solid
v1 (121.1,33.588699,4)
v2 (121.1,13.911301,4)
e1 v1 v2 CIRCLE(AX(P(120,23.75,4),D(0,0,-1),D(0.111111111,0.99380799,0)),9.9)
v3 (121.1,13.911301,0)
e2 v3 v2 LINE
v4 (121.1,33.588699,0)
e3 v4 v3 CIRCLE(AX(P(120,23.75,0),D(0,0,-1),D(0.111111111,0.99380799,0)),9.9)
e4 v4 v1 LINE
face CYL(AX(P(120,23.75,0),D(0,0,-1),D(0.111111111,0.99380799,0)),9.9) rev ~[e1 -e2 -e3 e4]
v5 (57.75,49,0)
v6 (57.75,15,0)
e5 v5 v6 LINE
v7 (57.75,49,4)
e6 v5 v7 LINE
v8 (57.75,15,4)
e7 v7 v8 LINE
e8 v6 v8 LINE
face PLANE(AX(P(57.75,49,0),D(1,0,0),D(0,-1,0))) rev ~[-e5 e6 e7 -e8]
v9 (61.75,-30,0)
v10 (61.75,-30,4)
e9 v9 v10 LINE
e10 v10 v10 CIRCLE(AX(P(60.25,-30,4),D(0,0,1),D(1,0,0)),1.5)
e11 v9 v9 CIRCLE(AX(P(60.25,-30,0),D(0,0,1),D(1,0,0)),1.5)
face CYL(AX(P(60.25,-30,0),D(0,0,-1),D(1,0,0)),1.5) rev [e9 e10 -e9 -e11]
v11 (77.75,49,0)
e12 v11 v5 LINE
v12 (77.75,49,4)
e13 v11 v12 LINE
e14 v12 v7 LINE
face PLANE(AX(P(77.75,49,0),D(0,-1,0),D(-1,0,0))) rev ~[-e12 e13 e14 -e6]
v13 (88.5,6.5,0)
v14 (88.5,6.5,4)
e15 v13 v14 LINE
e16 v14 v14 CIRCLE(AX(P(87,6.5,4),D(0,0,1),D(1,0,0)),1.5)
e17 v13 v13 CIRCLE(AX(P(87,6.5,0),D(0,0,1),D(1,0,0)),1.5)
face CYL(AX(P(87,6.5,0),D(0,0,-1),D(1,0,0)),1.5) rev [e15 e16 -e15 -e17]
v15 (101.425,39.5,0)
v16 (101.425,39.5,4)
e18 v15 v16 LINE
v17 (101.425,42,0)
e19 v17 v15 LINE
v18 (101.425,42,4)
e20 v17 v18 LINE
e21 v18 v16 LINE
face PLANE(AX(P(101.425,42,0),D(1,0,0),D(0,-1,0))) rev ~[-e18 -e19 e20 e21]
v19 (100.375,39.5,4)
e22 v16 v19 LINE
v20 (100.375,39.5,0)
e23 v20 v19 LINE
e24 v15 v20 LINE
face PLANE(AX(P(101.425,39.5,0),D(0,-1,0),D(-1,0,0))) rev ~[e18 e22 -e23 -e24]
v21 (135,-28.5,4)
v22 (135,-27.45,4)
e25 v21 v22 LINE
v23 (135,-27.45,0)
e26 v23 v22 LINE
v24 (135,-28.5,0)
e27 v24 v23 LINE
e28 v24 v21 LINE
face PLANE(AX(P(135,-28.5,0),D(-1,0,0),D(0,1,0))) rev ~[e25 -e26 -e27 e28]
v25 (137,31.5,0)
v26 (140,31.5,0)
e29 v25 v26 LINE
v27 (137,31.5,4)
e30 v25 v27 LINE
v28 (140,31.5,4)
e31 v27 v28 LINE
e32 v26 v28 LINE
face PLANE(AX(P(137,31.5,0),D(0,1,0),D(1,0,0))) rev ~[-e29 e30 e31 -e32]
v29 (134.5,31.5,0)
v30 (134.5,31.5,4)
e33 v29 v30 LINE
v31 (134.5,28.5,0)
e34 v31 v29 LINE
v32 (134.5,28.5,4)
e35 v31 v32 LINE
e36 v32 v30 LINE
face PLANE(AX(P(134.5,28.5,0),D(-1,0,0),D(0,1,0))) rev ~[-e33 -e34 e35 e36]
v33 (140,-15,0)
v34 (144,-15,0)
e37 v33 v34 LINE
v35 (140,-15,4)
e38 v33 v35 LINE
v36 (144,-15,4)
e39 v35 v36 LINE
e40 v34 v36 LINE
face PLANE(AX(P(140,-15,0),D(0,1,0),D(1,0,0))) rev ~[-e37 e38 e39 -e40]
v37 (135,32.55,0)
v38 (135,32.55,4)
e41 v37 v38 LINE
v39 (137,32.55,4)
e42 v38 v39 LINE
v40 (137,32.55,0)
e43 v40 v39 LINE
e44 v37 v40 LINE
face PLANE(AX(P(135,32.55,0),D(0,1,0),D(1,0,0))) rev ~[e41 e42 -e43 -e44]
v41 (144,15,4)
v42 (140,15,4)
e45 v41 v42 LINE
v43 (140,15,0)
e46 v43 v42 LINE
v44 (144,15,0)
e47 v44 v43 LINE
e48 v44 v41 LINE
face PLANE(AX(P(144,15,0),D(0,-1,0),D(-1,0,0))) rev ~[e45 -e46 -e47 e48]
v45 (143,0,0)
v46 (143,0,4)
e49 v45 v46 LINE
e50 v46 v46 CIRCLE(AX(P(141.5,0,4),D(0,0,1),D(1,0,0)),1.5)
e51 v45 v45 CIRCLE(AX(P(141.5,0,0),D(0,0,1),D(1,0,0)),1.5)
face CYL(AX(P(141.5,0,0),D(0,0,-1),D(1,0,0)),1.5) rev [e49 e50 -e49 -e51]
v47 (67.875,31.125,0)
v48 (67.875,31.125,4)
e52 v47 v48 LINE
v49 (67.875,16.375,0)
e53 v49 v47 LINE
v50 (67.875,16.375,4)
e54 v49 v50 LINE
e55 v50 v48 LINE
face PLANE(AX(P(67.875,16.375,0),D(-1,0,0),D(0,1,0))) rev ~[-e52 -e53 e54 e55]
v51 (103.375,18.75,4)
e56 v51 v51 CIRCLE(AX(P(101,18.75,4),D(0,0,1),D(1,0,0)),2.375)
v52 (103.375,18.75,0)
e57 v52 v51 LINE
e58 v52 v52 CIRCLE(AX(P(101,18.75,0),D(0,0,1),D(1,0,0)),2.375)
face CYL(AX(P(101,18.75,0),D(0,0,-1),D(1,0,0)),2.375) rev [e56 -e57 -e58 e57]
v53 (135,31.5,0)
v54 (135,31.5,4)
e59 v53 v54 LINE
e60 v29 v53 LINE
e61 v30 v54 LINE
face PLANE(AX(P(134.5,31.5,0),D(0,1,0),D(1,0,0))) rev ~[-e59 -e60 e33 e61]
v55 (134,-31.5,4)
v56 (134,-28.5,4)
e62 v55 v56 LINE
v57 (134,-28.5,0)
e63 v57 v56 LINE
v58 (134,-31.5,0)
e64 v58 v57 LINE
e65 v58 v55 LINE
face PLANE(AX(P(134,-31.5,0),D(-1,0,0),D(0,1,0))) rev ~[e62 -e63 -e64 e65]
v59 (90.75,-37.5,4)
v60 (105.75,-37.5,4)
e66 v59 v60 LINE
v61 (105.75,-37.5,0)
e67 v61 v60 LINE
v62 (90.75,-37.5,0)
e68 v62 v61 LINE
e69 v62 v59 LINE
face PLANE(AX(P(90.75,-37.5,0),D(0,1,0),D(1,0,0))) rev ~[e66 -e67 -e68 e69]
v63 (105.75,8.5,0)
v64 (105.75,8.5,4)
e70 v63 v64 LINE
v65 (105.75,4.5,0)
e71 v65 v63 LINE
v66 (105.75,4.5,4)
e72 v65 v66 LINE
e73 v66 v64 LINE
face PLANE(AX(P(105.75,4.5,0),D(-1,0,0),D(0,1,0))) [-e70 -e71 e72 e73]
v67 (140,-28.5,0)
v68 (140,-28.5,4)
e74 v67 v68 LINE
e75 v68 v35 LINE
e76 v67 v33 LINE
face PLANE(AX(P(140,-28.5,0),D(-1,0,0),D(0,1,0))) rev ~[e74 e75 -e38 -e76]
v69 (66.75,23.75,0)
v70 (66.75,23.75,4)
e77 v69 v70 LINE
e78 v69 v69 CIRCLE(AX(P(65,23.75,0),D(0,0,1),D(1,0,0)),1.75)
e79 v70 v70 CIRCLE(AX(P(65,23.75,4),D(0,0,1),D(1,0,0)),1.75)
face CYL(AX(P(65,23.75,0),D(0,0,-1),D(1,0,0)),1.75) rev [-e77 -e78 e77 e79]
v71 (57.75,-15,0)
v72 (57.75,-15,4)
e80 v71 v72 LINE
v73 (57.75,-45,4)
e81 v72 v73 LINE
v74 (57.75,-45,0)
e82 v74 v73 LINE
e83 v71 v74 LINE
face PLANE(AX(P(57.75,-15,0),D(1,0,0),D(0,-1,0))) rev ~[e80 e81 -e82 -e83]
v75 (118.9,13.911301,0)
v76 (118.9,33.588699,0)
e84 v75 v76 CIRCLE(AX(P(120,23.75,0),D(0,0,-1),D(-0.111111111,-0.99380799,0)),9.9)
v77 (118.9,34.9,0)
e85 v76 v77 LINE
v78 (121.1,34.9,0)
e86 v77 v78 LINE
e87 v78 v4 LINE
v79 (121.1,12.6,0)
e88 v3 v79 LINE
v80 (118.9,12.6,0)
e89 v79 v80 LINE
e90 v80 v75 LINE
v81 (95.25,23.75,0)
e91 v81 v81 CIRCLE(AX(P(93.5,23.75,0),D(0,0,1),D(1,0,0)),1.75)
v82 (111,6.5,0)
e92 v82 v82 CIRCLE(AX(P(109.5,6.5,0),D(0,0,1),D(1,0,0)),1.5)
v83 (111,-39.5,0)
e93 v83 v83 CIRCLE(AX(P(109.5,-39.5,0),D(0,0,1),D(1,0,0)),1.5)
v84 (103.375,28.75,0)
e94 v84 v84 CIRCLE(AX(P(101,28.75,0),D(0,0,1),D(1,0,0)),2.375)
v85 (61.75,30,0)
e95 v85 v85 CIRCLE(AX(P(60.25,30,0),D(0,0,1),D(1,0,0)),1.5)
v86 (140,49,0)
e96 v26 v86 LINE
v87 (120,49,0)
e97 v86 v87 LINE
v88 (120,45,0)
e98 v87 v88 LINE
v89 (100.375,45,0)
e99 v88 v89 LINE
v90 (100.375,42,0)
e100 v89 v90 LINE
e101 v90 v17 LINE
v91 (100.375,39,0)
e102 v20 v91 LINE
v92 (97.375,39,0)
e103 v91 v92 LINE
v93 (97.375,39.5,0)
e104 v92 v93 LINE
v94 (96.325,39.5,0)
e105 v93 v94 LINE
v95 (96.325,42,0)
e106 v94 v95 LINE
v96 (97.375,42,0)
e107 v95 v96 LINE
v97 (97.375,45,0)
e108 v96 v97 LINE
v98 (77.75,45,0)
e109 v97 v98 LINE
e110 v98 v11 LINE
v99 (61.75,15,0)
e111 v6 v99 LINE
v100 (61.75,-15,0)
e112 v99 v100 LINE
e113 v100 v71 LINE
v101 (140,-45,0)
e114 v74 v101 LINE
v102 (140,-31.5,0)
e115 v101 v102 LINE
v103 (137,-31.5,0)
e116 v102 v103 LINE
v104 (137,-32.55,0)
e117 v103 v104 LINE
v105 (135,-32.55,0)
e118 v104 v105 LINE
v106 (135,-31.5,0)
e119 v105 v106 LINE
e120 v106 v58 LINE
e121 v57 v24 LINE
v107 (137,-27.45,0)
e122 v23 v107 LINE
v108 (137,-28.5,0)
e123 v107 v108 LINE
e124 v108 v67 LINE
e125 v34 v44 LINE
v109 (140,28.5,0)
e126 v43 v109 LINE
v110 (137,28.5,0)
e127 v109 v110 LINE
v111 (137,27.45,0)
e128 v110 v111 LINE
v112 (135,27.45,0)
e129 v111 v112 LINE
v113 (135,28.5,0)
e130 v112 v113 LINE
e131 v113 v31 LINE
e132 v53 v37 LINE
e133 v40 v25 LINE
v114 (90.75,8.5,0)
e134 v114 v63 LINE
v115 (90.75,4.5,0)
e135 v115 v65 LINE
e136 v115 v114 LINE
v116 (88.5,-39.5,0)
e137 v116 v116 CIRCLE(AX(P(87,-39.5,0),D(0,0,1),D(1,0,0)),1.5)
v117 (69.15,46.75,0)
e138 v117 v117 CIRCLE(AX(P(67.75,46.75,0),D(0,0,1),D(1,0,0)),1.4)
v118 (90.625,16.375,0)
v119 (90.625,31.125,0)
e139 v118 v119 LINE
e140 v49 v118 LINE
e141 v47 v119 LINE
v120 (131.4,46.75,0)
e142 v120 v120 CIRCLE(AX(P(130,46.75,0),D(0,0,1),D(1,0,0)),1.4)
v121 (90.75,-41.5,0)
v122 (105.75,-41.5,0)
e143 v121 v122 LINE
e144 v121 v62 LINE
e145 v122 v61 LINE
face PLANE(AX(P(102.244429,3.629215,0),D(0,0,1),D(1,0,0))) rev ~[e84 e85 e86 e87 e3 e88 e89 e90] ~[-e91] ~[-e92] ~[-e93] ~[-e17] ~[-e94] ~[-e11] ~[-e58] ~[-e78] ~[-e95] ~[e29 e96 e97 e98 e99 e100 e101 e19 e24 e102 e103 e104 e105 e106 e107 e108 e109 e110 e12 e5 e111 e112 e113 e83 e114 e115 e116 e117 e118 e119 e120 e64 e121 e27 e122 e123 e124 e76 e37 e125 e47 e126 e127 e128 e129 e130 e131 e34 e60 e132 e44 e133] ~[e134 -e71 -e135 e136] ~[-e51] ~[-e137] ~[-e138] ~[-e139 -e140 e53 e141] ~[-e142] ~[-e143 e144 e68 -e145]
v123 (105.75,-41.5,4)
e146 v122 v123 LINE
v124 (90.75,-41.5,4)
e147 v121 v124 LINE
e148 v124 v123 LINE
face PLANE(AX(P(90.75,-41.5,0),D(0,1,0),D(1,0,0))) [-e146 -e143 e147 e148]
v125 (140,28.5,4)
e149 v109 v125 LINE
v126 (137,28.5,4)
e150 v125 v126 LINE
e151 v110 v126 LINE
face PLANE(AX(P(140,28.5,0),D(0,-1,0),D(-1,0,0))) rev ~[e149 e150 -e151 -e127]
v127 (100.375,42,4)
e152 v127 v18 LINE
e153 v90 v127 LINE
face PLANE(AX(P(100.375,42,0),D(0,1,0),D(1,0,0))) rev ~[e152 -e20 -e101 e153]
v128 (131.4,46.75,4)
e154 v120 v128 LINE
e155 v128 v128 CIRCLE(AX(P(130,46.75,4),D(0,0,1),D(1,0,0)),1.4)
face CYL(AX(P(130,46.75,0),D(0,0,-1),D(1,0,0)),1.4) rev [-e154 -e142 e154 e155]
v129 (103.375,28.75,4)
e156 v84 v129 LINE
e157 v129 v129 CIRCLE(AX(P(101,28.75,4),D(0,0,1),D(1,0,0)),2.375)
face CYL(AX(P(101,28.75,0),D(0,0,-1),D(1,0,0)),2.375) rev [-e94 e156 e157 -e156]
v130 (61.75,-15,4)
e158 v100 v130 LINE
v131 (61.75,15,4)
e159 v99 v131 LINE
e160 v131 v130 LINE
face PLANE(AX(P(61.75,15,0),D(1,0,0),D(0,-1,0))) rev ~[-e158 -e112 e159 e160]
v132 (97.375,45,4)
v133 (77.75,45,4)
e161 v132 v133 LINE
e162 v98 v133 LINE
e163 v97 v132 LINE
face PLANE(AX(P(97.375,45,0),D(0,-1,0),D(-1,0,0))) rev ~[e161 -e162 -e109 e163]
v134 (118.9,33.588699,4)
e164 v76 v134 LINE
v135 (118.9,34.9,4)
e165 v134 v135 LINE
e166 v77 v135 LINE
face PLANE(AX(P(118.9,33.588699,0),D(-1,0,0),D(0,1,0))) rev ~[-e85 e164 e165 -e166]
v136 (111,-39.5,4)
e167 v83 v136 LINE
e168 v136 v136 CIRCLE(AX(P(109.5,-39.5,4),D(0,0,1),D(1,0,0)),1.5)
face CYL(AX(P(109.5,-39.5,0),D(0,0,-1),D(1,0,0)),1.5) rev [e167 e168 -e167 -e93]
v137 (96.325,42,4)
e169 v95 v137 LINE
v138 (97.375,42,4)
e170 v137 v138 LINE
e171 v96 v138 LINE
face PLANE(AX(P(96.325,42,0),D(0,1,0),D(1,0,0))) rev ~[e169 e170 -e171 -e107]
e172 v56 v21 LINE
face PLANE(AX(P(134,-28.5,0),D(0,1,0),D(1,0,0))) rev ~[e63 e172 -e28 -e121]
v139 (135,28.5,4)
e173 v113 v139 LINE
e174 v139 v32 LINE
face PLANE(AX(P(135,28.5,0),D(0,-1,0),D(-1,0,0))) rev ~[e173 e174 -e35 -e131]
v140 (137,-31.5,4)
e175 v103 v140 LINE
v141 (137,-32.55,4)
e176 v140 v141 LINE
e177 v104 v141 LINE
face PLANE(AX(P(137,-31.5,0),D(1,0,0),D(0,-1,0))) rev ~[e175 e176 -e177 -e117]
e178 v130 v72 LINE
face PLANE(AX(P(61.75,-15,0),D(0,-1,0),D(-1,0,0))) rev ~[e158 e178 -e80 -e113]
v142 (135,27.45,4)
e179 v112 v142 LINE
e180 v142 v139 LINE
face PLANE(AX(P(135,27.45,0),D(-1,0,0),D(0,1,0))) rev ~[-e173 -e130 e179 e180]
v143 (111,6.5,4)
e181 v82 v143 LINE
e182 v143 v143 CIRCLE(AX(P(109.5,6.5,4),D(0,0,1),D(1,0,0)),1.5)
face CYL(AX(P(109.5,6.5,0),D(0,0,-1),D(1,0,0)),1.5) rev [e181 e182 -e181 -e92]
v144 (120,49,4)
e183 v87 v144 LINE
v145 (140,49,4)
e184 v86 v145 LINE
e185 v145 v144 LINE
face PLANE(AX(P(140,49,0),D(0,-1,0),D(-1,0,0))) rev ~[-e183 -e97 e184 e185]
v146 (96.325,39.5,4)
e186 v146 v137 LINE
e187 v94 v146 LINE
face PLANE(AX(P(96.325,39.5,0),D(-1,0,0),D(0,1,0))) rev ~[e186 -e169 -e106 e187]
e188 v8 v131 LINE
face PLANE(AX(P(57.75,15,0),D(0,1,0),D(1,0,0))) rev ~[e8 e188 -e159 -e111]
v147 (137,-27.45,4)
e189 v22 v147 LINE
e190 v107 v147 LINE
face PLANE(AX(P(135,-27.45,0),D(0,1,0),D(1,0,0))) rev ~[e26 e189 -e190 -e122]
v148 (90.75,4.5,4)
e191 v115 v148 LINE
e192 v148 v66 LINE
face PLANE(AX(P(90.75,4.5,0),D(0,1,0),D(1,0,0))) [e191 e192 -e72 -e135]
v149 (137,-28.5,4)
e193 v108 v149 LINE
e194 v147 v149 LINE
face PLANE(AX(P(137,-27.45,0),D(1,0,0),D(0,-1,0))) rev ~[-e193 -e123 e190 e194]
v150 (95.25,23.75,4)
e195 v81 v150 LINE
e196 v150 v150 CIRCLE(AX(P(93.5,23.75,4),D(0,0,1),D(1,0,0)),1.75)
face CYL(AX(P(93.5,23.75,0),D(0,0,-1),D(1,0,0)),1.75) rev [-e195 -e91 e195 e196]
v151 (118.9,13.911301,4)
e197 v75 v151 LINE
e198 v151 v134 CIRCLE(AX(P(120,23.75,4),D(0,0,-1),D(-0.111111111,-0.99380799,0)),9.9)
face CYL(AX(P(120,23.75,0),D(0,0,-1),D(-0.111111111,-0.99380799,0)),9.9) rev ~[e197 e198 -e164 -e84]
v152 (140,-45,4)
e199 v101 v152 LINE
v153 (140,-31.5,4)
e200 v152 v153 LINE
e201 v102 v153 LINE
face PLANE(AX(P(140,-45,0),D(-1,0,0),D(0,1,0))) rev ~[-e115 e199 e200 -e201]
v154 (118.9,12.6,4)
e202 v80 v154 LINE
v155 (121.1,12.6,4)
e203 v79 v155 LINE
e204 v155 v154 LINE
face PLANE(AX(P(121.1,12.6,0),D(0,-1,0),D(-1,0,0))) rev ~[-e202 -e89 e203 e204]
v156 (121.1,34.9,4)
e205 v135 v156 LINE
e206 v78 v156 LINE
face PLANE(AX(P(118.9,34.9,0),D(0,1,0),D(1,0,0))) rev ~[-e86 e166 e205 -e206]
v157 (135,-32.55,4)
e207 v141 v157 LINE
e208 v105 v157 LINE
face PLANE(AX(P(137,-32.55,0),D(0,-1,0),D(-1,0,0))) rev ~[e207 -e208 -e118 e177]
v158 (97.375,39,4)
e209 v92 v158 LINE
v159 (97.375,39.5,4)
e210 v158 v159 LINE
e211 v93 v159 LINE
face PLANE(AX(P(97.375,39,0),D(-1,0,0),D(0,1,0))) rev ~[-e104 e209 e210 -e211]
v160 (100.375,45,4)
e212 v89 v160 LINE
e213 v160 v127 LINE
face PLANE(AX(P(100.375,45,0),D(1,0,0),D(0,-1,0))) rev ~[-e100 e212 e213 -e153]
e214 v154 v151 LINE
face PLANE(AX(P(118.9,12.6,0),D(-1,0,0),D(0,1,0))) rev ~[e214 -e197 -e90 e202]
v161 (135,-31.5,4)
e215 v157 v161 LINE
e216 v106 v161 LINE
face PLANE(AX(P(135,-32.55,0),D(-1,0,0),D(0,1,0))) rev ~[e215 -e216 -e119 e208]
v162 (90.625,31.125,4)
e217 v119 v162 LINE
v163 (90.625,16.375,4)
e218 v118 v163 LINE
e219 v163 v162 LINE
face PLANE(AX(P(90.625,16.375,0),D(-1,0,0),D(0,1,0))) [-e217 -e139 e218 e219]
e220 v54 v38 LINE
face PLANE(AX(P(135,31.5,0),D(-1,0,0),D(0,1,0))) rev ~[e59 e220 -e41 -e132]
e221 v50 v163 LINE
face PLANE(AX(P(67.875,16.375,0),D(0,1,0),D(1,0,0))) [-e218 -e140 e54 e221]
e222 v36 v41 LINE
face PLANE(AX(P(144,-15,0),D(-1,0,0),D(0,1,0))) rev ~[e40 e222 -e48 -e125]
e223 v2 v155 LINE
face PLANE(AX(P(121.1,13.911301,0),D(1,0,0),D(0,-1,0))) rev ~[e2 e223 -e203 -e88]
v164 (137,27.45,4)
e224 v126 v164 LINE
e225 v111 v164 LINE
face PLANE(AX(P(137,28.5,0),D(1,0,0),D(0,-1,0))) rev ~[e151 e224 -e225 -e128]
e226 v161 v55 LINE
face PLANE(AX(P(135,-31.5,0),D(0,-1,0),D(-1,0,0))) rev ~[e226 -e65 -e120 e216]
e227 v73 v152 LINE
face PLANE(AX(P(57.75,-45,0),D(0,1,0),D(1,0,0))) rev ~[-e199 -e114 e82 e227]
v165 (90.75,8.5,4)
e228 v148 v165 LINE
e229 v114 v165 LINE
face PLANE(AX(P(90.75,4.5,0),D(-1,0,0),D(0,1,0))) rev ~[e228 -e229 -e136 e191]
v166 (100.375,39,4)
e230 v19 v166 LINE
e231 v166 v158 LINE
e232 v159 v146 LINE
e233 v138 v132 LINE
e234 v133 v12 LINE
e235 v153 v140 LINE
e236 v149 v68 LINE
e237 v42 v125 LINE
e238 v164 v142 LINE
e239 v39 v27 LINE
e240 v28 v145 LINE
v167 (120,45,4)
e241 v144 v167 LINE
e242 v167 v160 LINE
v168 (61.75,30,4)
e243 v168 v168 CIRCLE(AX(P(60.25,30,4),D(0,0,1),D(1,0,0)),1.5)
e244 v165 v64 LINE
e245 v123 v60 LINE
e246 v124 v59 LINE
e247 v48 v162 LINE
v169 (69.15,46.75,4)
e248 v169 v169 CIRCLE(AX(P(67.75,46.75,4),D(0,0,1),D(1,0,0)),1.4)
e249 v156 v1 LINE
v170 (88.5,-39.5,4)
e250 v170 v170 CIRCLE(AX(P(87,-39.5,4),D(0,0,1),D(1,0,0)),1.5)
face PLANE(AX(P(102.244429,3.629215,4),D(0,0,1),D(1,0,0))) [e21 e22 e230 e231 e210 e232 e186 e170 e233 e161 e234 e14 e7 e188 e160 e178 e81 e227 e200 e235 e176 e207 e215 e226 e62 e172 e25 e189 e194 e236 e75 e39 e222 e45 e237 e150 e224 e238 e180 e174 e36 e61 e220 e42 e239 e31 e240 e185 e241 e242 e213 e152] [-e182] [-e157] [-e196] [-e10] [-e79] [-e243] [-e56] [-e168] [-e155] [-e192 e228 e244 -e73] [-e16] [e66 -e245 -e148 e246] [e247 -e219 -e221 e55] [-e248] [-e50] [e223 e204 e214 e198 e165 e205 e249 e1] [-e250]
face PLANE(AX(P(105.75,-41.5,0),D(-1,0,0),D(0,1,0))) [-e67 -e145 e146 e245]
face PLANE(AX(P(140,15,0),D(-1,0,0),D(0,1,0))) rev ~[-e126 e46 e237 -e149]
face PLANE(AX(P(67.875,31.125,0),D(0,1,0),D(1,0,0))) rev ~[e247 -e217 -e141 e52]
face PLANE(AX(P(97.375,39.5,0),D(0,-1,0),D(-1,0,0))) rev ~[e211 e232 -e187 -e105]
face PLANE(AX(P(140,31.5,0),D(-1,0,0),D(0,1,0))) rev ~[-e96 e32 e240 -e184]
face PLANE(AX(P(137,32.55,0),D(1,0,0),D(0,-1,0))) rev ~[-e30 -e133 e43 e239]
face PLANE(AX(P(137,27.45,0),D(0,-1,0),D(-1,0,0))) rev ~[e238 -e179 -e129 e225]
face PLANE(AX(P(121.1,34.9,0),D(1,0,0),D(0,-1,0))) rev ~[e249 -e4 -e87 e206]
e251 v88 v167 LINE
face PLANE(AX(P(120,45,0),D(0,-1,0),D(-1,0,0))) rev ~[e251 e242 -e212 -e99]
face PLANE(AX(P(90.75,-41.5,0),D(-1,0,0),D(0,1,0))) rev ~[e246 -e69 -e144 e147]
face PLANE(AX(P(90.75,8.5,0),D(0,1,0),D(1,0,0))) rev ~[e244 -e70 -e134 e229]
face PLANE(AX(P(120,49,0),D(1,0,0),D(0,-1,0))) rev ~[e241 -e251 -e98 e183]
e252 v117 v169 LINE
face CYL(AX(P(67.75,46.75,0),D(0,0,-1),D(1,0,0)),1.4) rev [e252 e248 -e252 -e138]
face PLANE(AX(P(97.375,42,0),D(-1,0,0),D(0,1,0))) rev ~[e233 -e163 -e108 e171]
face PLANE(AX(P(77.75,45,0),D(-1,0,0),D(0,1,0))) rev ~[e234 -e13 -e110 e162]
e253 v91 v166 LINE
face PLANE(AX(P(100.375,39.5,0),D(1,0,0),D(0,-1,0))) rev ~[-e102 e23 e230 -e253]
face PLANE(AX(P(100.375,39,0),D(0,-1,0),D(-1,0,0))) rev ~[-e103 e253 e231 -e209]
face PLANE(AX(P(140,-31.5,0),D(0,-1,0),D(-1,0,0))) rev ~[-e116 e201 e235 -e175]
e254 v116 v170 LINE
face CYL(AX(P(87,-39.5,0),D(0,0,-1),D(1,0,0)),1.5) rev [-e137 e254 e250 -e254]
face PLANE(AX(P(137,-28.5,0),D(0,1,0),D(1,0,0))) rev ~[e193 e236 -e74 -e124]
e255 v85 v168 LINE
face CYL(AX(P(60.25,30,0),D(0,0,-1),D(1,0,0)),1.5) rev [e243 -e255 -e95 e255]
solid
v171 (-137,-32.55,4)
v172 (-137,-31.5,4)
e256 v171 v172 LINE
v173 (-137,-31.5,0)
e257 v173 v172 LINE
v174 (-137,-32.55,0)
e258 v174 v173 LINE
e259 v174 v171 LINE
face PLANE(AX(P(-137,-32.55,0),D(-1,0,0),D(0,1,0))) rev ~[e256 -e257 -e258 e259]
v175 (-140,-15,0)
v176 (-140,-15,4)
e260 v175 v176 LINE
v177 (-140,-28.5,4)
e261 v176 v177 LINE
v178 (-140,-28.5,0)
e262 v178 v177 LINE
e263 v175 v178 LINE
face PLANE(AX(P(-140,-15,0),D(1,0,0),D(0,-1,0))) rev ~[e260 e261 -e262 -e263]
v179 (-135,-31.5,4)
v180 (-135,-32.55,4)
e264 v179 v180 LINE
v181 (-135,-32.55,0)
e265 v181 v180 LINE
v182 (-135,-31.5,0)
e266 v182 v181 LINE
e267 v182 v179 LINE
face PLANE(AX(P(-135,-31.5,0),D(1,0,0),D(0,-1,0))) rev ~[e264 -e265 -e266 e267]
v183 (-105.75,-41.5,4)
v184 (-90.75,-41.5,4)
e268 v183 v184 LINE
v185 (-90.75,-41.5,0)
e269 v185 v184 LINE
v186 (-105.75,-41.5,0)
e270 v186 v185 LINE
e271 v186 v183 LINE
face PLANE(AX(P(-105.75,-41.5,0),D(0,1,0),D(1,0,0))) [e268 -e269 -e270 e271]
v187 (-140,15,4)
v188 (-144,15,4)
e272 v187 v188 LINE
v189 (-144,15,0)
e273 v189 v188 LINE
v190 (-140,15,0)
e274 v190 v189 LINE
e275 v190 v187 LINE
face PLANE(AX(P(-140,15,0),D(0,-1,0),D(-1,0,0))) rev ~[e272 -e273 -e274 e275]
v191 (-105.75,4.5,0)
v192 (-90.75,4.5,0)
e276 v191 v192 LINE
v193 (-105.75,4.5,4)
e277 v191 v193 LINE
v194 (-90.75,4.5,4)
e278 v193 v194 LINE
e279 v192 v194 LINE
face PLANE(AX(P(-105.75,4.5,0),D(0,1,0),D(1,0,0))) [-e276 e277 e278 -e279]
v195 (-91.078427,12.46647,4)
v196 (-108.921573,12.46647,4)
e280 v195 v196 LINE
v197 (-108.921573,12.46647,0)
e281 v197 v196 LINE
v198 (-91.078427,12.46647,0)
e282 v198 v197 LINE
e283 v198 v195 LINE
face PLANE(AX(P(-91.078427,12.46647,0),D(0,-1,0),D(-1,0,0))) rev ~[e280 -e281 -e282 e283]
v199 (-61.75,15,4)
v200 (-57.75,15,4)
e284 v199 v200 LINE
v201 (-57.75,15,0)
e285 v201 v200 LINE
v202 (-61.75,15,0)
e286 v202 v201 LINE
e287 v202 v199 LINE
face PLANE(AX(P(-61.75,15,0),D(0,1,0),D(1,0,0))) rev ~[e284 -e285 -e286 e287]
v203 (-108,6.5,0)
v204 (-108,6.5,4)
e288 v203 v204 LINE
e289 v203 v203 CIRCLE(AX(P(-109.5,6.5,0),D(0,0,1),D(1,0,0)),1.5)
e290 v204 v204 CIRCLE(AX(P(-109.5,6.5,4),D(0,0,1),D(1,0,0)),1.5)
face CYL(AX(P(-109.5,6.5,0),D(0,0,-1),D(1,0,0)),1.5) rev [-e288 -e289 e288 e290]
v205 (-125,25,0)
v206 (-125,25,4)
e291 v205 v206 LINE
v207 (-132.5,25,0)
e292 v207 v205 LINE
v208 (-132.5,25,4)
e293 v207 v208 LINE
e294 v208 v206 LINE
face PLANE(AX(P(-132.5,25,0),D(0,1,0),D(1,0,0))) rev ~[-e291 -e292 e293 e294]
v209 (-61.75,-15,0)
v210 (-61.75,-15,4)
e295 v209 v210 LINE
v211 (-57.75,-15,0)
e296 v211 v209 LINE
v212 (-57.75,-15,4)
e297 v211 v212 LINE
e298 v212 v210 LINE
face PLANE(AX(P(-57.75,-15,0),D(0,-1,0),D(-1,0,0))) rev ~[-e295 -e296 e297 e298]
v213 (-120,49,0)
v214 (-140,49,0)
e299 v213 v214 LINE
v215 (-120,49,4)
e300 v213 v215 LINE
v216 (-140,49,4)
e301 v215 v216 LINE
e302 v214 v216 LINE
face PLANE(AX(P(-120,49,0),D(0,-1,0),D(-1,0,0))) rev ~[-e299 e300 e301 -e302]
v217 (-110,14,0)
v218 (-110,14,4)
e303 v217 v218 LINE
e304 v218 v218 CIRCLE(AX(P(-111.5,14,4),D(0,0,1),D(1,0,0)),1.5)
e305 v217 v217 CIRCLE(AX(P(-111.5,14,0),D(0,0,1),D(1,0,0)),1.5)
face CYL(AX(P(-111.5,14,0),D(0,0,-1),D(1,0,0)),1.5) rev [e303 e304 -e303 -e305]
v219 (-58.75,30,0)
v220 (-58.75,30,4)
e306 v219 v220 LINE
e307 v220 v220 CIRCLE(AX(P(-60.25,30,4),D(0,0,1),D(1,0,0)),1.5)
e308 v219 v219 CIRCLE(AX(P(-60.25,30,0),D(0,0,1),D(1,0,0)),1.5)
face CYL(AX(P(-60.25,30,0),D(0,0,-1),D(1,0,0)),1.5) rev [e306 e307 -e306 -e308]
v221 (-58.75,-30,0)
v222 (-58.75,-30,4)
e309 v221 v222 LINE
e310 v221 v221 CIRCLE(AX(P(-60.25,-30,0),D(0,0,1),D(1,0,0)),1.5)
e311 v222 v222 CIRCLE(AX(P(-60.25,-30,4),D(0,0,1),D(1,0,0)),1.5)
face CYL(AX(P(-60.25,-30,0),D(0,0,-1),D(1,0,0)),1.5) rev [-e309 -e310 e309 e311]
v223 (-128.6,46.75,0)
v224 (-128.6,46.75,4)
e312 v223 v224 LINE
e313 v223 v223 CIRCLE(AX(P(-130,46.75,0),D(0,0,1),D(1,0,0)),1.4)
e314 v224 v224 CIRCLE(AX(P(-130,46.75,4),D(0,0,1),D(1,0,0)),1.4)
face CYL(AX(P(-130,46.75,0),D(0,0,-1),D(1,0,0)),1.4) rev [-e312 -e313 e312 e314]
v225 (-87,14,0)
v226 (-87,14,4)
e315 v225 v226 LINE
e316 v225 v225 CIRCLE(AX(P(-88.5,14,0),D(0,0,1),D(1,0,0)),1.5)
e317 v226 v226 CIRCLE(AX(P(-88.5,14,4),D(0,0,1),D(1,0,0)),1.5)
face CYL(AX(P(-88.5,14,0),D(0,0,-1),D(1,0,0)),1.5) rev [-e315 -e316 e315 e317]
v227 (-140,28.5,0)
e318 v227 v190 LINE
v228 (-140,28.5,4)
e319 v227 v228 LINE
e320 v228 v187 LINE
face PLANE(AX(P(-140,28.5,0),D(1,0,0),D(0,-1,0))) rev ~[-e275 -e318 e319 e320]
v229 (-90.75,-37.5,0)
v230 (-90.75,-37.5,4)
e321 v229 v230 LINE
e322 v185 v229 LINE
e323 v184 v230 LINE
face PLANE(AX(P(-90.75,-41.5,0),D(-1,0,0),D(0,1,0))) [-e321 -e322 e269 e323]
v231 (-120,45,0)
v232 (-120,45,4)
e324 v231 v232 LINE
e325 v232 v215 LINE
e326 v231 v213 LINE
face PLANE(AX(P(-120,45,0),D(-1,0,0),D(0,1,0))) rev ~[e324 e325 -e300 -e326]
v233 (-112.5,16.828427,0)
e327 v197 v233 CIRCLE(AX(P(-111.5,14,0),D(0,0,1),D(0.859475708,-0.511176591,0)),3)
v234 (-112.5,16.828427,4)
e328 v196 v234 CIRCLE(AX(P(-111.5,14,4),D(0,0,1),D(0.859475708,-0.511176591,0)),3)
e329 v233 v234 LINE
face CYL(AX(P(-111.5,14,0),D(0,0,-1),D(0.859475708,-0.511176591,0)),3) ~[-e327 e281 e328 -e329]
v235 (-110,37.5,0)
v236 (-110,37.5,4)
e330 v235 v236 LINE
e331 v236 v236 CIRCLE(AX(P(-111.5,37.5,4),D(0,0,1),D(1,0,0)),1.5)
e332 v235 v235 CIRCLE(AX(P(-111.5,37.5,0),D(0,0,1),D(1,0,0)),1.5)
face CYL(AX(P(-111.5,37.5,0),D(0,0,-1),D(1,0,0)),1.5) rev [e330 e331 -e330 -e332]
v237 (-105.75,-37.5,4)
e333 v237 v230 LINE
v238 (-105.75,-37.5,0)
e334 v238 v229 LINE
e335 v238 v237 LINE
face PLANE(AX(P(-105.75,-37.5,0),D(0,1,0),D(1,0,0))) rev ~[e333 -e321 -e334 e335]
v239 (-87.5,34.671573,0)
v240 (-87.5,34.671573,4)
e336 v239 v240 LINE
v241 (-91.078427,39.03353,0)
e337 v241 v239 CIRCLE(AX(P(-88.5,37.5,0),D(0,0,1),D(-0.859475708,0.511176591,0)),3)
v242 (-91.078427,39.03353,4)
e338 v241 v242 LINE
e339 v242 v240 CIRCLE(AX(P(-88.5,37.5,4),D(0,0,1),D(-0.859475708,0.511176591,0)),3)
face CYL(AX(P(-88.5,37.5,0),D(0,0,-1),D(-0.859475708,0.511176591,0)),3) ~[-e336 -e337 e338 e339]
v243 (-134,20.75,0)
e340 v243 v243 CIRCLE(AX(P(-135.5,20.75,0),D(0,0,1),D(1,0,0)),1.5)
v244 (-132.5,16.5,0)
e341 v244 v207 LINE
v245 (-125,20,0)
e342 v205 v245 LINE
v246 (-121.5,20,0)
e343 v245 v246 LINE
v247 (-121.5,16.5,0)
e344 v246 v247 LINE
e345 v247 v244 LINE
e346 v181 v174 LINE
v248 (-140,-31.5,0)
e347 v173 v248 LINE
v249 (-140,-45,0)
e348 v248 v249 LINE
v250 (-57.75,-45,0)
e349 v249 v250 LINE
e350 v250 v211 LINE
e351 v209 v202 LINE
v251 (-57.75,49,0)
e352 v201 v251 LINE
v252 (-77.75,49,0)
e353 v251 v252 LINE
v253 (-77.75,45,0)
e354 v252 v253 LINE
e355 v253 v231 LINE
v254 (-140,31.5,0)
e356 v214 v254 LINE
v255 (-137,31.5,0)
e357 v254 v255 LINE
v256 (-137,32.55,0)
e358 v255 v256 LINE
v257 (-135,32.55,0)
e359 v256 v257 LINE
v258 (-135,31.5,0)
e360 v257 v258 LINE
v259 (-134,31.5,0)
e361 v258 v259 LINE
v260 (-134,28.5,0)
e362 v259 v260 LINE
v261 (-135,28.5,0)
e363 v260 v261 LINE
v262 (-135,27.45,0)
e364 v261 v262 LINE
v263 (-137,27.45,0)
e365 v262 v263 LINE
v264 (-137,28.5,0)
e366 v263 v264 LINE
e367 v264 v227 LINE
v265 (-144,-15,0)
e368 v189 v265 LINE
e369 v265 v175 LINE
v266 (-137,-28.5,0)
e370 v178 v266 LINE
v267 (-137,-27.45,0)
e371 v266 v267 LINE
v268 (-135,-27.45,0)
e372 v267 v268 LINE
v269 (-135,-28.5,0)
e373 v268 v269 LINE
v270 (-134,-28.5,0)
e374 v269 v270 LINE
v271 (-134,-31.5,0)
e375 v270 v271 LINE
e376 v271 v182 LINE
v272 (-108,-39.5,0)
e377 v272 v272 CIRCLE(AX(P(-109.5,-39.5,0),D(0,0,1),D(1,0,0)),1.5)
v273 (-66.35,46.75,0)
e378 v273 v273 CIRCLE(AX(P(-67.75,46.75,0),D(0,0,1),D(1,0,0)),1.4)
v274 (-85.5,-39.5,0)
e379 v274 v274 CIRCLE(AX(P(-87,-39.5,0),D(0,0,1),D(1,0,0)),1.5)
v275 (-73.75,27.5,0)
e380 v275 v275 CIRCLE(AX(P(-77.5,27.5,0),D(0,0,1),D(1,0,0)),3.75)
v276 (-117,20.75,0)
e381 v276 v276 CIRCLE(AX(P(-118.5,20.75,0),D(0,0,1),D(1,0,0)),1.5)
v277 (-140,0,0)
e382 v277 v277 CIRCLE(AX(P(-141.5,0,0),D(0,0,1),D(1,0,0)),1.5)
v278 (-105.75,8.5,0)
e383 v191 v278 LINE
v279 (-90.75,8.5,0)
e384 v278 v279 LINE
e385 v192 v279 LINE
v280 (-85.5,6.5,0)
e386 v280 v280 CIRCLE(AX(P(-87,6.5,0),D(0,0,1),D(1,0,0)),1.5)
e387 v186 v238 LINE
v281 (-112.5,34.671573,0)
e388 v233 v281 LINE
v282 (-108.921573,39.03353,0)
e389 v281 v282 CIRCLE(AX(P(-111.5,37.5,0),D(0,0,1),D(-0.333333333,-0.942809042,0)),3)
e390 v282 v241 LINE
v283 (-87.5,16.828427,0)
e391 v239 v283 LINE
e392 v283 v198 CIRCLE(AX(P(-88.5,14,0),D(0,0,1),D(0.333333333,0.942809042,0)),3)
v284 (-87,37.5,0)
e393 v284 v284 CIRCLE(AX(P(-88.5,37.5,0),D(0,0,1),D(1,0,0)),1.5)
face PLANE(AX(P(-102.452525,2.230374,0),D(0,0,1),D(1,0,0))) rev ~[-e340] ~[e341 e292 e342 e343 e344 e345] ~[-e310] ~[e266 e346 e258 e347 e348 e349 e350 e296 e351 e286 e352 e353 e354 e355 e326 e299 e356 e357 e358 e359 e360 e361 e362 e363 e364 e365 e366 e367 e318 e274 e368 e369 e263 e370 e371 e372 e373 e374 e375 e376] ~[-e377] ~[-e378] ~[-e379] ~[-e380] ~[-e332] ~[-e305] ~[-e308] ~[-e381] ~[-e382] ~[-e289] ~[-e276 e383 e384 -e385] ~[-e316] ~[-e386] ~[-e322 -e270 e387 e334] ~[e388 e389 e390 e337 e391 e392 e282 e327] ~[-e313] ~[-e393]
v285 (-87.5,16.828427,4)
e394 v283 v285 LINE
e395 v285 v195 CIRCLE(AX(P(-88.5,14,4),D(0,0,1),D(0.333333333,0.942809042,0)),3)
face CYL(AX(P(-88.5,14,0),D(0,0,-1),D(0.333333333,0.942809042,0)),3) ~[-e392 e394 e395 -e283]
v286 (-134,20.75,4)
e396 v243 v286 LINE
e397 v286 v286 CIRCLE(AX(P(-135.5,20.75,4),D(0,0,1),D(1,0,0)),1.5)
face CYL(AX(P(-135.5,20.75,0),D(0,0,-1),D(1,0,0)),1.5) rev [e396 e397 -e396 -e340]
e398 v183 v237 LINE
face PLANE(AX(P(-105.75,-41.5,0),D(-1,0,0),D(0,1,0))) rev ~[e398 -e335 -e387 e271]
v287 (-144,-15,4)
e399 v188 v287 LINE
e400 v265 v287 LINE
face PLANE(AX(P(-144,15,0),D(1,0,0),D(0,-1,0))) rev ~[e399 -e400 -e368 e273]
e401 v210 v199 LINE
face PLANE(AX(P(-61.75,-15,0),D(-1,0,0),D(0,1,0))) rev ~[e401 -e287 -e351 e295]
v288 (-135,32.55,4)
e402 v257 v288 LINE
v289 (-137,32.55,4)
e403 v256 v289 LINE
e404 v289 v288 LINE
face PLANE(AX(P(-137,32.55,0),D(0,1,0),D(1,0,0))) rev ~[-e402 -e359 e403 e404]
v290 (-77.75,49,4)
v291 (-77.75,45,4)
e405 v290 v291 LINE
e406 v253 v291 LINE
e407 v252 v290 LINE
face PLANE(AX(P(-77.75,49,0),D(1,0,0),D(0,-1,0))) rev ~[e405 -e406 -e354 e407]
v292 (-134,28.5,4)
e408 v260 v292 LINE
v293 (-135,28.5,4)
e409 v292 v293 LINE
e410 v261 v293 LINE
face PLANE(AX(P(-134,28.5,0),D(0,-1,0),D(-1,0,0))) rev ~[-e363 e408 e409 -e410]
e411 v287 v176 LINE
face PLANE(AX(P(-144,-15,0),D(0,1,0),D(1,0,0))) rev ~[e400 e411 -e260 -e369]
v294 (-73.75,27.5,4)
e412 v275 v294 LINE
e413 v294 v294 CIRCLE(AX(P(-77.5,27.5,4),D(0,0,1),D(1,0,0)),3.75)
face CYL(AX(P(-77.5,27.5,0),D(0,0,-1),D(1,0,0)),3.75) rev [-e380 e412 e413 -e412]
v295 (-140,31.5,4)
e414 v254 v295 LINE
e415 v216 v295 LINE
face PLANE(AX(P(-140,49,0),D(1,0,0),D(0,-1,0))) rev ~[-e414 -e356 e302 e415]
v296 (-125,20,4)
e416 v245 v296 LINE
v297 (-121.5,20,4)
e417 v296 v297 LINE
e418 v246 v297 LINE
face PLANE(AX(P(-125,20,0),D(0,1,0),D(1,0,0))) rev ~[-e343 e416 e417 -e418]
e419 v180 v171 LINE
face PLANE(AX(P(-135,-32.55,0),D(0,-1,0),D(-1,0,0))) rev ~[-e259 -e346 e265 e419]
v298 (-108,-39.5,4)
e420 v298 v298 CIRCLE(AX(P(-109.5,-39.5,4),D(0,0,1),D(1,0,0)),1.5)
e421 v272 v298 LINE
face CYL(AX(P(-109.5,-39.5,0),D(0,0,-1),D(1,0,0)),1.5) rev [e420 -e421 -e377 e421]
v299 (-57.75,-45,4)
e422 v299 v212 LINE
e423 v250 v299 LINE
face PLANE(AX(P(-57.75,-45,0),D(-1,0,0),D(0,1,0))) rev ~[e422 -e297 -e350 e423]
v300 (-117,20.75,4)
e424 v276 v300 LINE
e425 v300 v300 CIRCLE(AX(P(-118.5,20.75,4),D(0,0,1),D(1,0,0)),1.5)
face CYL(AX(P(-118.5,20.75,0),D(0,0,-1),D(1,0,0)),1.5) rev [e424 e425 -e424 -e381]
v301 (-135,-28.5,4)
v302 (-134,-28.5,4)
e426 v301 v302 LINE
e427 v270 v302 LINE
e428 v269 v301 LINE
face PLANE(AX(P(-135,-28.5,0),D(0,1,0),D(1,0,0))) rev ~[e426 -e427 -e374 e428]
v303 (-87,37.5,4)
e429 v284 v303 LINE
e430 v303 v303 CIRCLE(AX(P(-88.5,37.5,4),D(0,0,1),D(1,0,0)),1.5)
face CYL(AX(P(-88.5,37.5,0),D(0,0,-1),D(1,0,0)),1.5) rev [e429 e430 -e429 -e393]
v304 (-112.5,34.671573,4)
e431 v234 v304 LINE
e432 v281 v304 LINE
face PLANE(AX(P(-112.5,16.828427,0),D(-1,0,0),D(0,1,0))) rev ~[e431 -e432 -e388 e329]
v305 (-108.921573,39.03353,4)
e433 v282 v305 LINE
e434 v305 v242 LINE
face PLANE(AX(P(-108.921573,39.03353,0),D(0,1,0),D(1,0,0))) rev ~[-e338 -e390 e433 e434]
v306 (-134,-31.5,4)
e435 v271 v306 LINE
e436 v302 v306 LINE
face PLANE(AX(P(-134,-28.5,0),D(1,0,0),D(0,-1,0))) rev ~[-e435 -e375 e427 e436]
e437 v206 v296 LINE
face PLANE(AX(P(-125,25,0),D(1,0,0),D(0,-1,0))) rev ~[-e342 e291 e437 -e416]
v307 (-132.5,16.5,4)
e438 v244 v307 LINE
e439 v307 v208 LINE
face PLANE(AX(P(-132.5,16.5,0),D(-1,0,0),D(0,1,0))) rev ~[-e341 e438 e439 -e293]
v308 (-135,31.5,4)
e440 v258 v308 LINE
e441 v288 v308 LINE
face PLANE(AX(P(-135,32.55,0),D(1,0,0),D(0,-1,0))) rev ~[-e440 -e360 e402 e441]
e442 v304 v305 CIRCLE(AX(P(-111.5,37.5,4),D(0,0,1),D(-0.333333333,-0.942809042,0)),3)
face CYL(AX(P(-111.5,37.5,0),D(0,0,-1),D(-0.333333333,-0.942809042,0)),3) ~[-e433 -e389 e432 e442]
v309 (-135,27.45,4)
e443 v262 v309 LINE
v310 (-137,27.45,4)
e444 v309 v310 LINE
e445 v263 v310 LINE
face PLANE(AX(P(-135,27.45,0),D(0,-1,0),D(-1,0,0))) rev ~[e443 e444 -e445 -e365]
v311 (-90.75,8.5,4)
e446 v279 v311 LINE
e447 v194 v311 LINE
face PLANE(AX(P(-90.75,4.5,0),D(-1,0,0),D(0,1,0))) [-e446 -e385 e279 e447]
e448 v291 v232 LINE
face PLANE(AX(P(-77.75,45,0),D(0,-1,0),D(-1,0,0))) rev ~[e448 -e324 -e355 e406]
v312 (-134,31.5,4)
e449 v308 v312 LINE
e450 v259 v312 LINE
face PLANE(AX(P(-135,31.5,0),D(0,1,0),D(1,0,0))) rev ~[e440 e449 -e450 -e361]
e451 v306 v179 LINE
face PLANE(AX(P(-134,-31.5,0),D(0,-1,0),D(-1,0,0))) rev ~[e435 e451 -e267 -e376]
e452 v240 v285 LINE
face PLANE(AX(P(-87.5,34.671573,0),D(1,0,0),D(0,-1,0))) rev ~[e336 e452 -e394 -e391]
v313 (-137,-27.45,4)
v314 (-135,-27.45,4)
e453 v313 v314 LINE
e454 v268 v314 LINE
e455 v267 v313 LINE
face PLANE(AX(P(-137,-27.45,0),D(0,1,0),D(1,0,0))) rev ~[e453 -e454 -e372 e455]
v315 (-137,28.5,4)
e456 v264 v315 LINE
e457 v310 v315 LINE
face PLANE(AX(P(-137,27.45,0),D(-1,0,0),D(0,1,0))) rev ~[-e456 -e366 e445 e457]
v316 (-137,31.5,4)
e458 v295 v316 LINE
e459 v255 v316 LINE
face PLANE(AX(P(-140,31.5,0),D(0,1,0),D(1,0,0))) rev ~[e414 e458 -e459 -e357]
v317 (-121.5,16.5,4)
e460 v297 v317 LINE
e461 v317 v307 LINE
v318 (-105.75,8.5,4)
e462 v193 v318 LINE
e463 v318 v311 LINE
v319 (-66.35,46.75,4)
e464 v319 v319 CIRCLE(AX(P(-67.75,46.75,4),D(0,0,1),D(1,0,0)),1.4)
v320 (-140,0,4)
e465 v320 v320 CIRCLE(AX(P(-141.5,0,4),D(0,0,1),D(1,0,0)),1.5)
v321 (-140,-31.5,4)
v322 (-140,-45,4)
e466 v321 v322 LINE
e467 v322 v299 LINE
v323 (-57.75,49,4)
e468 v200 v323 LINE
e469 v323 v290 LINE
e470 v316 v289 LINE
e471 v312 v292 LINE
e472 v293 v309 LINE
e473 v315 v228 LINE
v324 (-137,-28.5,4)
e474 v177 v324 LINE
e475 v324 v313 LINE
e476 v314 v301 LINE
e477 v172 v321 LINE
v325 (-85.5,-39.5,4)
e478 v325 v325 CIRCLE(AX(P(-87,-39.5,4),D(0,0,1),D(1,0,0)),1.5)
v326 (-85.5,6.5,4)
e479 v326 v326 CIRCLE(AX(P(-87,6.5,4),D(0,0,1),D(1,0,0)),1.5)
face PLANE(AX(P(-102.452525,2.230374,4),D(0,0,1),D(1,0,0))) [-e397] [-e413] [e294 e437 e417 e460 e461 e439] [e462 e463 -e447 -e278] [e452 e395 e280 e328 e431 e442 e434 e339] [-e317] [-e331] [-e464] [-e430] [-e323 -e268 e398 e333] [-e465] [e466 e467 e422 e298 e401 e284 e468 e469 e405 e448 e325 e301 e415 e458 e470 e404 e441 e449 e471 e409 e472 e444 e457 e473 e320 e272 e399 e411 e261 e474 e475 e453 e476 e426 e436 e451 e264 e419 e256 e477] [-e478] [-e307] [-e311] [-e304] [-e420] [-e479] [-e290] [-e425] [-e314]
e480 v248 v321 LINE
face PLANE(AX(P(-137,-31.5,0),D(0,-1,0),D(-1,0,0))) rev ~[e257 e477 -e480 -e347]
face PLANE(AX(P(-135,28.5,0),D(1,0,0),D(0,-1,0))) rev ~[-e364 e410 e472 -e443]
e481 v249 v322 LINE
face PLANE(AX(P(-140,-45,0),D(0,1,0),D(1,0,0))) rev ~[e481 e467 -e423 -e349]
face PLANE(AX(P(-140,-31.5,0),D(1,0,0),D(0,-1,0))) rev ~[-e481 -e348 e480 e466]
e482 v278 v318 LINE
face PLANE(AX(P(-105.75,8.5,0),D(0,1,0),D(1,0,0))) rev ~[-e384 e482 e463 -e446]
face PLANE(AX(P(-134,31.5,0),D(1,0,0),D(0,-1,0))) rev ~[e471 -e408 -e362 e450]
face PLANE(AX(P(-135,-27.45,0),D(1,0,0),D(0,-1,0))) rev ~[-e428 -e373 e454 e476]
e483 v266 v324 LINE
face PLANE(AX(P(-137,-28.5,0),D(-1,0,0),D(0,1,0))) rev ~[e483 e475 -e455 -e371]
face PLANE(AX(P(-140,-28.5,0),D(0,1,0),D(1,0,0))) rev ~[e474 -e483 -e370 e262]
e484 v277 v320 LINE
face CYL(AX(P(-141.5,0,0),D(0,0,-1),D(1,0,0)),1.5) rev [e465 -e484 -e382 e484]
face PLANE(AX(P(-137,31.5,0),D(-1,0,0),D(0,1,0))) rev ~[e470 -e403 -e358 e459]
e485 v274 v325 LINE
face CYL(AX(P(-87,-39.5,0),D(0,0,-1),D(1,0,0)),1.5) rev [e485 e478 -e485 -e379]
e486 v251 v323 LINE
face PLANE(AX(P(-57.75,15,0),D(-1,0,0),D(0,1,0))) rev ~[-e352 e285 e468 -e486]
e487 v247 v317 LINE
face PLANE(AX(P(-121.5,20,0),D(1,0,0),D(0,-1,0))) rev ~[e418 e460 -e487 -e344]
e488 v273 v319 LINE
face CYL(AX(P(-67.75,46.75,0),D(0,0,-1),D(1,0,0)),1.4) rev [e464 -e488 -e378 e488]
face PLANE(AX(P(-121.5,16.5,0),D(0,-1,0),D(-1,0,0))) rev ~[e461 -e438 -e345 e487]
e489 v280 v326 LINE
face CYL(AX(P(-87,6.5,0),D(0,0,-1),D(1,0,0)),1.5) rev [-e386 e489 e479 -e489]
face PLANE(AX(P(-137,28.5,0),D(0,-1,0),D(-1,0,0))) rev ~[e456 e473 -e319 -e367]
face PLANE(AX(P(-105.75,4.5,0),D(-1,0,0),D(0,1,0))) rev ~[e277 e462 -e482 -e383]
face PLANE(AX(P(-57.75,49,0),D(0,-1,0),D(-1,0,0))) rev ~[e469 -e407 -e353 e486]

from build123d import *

# Parameters (mm, degrees)
SKETCH_1_R        = 1.5
SKETCH_1_W        = 15
SKETCH_1_H        = 4
SKETCH_1_R_2      = 3.75
SKETCH_1_R_3      = 1.4
EXTRUDE_1_DEPTH   = 4
SKETCH_1_R_4      = 1.75
SKETCH_1_R_5      = 2.375
SKETCH_1_W_2      = 22.75
SKETCH_1_H_2      = 14.75
EXTRUDE_1_2_DEPTH = 4


with BuildPart() as part:
    # Эскиз1 → Бобышка-Вытянуть1 (new body)
    with BuildSketch(Plane.XY):
        Polygon((-140, -31.5), (-140, -45), (-57.75, -45), (-57.75, -15), (-61.75, -15), (-61.75, 15), (-57.75, 15), (-57.75, 49), (-77.75, 49), (-77.75, 45), (-120, 45), (-120, 49), (-140, 49), (-140, 31.5), (-137, 31.5), (-137, 32.55), (-135, 32.55), (-135, 31.5), (-134, 31.5), (-134, 28.5), (-135, 28.5), (-135, 27.45), (-137, 27.45), (-137, 28.5), (-140, 28.5), (-140, 15), (-144, 15), (-144, -15), (-140, -15), (-140, -28.5), (-137, -28.5), (-137, -27.45), (-135, -27.45), (-135, -28.5), (-134, -28.5), (-134, -31.5), (-135, -31.5), (-135, -32.55), (-137, -32.55), (-137, -31.5), align=None)
        with Locations((-109.5, -39.5)):
            Circle(SKETCH_1_R, mode=Mode.SUBTRACT)
        with Locations((-98.25, -39.5)):
            Rectangle(SKETCH_1_W, SKETCH_1_H, mode=Mode.SUBTRACT)
        with Locations((-87, -39.5)):
            Circle(SKETCH_1_R, mode=Mode.SUBTRACT)
        with Locations((-60.25, -30)):
            Circle(SKETCH_1_R, mode=Mode.SUBTRACT)
        with Locations((-109.5, 6.5)):
            Circle(SKETCH_1_R, mode=Mode.SUBTRACT)
        with Locations((-98.25, 6.5)):
            Rectangle(SKETCH_1_W, SKETCH_1_H, mode=Mode.SUBTRACT)
        with Locations((-87, 6.5)):
            Circle(SKETCH_1_R, mode=Mode.SUBTRACT)
        with Locations((-135.5, 20.75)):
            Circle(SKETCH_1_R, mode=Mode.SUBTRACT)
        Polygon((-121.5, 16.5), (-132.5, 16.5), (-132.5, 25), (-125, 25), (-125, 20), (-121.5, 20), align=None, mode=Mode.SUBTRACT)
        with Locations((-118.5, 20.75)):
            Circle(SKETCH_1_R, mode=Mode.SUBTRACT)
        with BuildLine():
            Line((-87.5, 34.671572875), (-87.5, 16.828427125))
            ThreePointArc((-87.5, 16.828427125), (-90.819380314, 15.902754572), (-91.078427125, 12.466470228))
            Line((-91.078427125, 12.466470228), (-108.921572875, 12.466470228))
            ThreePointArc((-108.921572875, 12.466470228), (-109.180619686, 15.902754572), (-112.5, 16.828427125))
            Line((-112.5, 16.828427125), (-112.5, 34.671572875))
            ThreePointArc((-112.5, 34.671572875), (-109.180619686, 35.597245428), (-108.921572875, 39.033529772))
            Line((-108.921572875, 39.033529772), (-91.078427125, 39.033529772))
            ThreePointArc((-91.078427125, 39.033529772), (-90.819380314, 35.597245428), (-87.5, 34.671572875))
        make_face(mode=Mode.SUBTRACT)
        with Locations((-77.5, 27.5)):
            Circle(SKETCH_1_R_2, mode=Mode.SUBTRACT)
        with Locations((-60.25, 30)):
            Circle(SKETCH_1_R, mode=Mode.SUBTRACT)
        with Locations((-141.5, 0)):
            Circle(SKETCH_1_R, mode=Mode.SUBTRACT)
        with Locations((-67.75, 46.75)):
            Circle(SKETCH_1_R_3, mode=Mode.SUBTRACT)
        with Locations((-130, 46.75)):
            Circle(SKETCH_1_R_3, mode=Mode.SUBTRACT)
        with Locations((-111.5, 37.5)):
            Circle(SKETCH_1_R, mode=Mode.SUBTRACT)
        with Locations((-88.5, 37.5)):
            Circle(SKETCH_1_R, mode=Mode.SUBTRACT)
        with Locations((-111.5, 14)):
            Circle(SKETCH_1_R, mode=Mode.SUBTRACT)
        with Locations((-88.5, 14)):
            Circle(SKETCH_1_R, mode=Mode.SUBTRACT)
    extrude(amount=EXTRUDE_1_DEPTH)


with BuildPart() as body_2:
    # Эскиз1 → Extrude 1 2 (new body)
    with BuildSketch(Plane.XY):
        Polygon((57.75, -15), (57.75, -45), (140, -45), (140, -31.5), (137, -31.5), (137, -32.55), (135, -32.55), (135, -31.5), (134, -31.5), (134, -28.5), (135, -28.5), (135, -27.45), (137, -27.45), (137, -28.5), (140, -28.5), (140, -15), (144, -15), (144, 15), (140, 15), (140, 28.5), (137, 28.5), (137, 27.45), (135, 27.45), (135, 28.5), (134.5, 28.5), (134.5, 31.5), (135, 31.5), (135, 32.55), (137, 32.55), (137, 31.5), (140, 31.5), (140, 49), (120, 49), (120, 45), (100.375, 45), (100.375, 42), (101.425, 42), (101.425, 39.5), (100.375, 39.5), (100.375, 39), (97.375, 39), (97.375, 39.5), (96.325, 39.5), (96.325, 42), (97.375, 42), (97.375, 45), (77.75, 45), (77.75, 49), (57.75, 49), (57.75, 15), (61.75, 15), (61.75, -15), align=None)
        with Locations((60.25, -30)):
            Circle(SKETCH_1_R, mode=Mode.SUBTRACT)
        with Locations((87, -39.5)):
            Circle(SKETCH_1_R, mode=Mode.SUBTRACT)
        with Locations((98.25, -39.5)):
            Rectangle(SKETCH_1_W, SKETCH_1_H, mode=Mode.SUBTRACT)
        with Locations((109.5, -39.5)):
            Circle(SKETCH_1_R, mode=Mode.SUBTRACT)
        with Locations((65, 23.75)):
            Circle(SKETCH_1_R_4, mode=Mode.SUBTRACT)
        with Locations((87, 6.5)):
            Circle(SKETCH_1_R, mode=Mode.SUBTRACT)
        with Locations((98.25, 6.5)):
            Rectangle(SKETCH_1_W, SKETCH_1_H, mode=Mode.SUBTRACT)
        with Locations((109.5, 6.5)):
            Circle(SKETCH_1_R, mode=Mode.SUBTRACT)
        with Locations((101, 18.75)):
            Circle(SKETCH_1_R_5, mode=Mode.SUBTRACT)
        with Locations((79.25, 23.75)):
            Rectangle(SKETCH_1_W_2, SKETCH_1_H_2, mode=Mode.SUBTRACT)
        with Locations((93.5, 23.75)):
            Circle(SKETCH_1_R_4, mode=Mode.SUBTRACT)
        with BuildLine():
            Line((121.1, 12.6), (118.9, 12.6))
            Line((118.9, 12.6), (118.9, 13.911300899))
            ThreePointArc((118.9, 13.911300899), (110.1, 23.75), (118.9, 33.588699101))
            Line((118.9, 33.588699101), (118.9, 34.9))
            Line((118.9, 34.9), (121.1, 34.9))
            Line((121.1, 34.9), (121.1, 33.588699101))
            ThreePointArc((121.1, 33.588699101), (129.9, 23.75), (121.1, 13.911300899))
            Line((121.1, 13.911300899), (121.1, 12.6))
        make_face(mode=Mode.SUBTRACT)
        with Locations((60.25, 30)):
            Circle(SKETCH_1_R, mode=Mode.SUBTRACT)
        with Locations((101, 28.75)):
            Circle(SKETCH_1_R_5, mode=Mode.SUBTRACT)
        with Locations((67.75, 46.75)):
            Circle(SKETCH_1_R_3, mode=Mode.SUBTRACT)
        with Locations((141.5, 0)):
            Circle(SKETCH_1_R, mode=Mode.SUBTRACT)
        with Locations((130, 46.75)):
            Circle(SKETCH_1_R_3, mode=Mode.SUBTRACT)
    extrude(amount=EXTRUDE_1_2_DEPTH)


solid = Compound([part.part, body_2.part])
